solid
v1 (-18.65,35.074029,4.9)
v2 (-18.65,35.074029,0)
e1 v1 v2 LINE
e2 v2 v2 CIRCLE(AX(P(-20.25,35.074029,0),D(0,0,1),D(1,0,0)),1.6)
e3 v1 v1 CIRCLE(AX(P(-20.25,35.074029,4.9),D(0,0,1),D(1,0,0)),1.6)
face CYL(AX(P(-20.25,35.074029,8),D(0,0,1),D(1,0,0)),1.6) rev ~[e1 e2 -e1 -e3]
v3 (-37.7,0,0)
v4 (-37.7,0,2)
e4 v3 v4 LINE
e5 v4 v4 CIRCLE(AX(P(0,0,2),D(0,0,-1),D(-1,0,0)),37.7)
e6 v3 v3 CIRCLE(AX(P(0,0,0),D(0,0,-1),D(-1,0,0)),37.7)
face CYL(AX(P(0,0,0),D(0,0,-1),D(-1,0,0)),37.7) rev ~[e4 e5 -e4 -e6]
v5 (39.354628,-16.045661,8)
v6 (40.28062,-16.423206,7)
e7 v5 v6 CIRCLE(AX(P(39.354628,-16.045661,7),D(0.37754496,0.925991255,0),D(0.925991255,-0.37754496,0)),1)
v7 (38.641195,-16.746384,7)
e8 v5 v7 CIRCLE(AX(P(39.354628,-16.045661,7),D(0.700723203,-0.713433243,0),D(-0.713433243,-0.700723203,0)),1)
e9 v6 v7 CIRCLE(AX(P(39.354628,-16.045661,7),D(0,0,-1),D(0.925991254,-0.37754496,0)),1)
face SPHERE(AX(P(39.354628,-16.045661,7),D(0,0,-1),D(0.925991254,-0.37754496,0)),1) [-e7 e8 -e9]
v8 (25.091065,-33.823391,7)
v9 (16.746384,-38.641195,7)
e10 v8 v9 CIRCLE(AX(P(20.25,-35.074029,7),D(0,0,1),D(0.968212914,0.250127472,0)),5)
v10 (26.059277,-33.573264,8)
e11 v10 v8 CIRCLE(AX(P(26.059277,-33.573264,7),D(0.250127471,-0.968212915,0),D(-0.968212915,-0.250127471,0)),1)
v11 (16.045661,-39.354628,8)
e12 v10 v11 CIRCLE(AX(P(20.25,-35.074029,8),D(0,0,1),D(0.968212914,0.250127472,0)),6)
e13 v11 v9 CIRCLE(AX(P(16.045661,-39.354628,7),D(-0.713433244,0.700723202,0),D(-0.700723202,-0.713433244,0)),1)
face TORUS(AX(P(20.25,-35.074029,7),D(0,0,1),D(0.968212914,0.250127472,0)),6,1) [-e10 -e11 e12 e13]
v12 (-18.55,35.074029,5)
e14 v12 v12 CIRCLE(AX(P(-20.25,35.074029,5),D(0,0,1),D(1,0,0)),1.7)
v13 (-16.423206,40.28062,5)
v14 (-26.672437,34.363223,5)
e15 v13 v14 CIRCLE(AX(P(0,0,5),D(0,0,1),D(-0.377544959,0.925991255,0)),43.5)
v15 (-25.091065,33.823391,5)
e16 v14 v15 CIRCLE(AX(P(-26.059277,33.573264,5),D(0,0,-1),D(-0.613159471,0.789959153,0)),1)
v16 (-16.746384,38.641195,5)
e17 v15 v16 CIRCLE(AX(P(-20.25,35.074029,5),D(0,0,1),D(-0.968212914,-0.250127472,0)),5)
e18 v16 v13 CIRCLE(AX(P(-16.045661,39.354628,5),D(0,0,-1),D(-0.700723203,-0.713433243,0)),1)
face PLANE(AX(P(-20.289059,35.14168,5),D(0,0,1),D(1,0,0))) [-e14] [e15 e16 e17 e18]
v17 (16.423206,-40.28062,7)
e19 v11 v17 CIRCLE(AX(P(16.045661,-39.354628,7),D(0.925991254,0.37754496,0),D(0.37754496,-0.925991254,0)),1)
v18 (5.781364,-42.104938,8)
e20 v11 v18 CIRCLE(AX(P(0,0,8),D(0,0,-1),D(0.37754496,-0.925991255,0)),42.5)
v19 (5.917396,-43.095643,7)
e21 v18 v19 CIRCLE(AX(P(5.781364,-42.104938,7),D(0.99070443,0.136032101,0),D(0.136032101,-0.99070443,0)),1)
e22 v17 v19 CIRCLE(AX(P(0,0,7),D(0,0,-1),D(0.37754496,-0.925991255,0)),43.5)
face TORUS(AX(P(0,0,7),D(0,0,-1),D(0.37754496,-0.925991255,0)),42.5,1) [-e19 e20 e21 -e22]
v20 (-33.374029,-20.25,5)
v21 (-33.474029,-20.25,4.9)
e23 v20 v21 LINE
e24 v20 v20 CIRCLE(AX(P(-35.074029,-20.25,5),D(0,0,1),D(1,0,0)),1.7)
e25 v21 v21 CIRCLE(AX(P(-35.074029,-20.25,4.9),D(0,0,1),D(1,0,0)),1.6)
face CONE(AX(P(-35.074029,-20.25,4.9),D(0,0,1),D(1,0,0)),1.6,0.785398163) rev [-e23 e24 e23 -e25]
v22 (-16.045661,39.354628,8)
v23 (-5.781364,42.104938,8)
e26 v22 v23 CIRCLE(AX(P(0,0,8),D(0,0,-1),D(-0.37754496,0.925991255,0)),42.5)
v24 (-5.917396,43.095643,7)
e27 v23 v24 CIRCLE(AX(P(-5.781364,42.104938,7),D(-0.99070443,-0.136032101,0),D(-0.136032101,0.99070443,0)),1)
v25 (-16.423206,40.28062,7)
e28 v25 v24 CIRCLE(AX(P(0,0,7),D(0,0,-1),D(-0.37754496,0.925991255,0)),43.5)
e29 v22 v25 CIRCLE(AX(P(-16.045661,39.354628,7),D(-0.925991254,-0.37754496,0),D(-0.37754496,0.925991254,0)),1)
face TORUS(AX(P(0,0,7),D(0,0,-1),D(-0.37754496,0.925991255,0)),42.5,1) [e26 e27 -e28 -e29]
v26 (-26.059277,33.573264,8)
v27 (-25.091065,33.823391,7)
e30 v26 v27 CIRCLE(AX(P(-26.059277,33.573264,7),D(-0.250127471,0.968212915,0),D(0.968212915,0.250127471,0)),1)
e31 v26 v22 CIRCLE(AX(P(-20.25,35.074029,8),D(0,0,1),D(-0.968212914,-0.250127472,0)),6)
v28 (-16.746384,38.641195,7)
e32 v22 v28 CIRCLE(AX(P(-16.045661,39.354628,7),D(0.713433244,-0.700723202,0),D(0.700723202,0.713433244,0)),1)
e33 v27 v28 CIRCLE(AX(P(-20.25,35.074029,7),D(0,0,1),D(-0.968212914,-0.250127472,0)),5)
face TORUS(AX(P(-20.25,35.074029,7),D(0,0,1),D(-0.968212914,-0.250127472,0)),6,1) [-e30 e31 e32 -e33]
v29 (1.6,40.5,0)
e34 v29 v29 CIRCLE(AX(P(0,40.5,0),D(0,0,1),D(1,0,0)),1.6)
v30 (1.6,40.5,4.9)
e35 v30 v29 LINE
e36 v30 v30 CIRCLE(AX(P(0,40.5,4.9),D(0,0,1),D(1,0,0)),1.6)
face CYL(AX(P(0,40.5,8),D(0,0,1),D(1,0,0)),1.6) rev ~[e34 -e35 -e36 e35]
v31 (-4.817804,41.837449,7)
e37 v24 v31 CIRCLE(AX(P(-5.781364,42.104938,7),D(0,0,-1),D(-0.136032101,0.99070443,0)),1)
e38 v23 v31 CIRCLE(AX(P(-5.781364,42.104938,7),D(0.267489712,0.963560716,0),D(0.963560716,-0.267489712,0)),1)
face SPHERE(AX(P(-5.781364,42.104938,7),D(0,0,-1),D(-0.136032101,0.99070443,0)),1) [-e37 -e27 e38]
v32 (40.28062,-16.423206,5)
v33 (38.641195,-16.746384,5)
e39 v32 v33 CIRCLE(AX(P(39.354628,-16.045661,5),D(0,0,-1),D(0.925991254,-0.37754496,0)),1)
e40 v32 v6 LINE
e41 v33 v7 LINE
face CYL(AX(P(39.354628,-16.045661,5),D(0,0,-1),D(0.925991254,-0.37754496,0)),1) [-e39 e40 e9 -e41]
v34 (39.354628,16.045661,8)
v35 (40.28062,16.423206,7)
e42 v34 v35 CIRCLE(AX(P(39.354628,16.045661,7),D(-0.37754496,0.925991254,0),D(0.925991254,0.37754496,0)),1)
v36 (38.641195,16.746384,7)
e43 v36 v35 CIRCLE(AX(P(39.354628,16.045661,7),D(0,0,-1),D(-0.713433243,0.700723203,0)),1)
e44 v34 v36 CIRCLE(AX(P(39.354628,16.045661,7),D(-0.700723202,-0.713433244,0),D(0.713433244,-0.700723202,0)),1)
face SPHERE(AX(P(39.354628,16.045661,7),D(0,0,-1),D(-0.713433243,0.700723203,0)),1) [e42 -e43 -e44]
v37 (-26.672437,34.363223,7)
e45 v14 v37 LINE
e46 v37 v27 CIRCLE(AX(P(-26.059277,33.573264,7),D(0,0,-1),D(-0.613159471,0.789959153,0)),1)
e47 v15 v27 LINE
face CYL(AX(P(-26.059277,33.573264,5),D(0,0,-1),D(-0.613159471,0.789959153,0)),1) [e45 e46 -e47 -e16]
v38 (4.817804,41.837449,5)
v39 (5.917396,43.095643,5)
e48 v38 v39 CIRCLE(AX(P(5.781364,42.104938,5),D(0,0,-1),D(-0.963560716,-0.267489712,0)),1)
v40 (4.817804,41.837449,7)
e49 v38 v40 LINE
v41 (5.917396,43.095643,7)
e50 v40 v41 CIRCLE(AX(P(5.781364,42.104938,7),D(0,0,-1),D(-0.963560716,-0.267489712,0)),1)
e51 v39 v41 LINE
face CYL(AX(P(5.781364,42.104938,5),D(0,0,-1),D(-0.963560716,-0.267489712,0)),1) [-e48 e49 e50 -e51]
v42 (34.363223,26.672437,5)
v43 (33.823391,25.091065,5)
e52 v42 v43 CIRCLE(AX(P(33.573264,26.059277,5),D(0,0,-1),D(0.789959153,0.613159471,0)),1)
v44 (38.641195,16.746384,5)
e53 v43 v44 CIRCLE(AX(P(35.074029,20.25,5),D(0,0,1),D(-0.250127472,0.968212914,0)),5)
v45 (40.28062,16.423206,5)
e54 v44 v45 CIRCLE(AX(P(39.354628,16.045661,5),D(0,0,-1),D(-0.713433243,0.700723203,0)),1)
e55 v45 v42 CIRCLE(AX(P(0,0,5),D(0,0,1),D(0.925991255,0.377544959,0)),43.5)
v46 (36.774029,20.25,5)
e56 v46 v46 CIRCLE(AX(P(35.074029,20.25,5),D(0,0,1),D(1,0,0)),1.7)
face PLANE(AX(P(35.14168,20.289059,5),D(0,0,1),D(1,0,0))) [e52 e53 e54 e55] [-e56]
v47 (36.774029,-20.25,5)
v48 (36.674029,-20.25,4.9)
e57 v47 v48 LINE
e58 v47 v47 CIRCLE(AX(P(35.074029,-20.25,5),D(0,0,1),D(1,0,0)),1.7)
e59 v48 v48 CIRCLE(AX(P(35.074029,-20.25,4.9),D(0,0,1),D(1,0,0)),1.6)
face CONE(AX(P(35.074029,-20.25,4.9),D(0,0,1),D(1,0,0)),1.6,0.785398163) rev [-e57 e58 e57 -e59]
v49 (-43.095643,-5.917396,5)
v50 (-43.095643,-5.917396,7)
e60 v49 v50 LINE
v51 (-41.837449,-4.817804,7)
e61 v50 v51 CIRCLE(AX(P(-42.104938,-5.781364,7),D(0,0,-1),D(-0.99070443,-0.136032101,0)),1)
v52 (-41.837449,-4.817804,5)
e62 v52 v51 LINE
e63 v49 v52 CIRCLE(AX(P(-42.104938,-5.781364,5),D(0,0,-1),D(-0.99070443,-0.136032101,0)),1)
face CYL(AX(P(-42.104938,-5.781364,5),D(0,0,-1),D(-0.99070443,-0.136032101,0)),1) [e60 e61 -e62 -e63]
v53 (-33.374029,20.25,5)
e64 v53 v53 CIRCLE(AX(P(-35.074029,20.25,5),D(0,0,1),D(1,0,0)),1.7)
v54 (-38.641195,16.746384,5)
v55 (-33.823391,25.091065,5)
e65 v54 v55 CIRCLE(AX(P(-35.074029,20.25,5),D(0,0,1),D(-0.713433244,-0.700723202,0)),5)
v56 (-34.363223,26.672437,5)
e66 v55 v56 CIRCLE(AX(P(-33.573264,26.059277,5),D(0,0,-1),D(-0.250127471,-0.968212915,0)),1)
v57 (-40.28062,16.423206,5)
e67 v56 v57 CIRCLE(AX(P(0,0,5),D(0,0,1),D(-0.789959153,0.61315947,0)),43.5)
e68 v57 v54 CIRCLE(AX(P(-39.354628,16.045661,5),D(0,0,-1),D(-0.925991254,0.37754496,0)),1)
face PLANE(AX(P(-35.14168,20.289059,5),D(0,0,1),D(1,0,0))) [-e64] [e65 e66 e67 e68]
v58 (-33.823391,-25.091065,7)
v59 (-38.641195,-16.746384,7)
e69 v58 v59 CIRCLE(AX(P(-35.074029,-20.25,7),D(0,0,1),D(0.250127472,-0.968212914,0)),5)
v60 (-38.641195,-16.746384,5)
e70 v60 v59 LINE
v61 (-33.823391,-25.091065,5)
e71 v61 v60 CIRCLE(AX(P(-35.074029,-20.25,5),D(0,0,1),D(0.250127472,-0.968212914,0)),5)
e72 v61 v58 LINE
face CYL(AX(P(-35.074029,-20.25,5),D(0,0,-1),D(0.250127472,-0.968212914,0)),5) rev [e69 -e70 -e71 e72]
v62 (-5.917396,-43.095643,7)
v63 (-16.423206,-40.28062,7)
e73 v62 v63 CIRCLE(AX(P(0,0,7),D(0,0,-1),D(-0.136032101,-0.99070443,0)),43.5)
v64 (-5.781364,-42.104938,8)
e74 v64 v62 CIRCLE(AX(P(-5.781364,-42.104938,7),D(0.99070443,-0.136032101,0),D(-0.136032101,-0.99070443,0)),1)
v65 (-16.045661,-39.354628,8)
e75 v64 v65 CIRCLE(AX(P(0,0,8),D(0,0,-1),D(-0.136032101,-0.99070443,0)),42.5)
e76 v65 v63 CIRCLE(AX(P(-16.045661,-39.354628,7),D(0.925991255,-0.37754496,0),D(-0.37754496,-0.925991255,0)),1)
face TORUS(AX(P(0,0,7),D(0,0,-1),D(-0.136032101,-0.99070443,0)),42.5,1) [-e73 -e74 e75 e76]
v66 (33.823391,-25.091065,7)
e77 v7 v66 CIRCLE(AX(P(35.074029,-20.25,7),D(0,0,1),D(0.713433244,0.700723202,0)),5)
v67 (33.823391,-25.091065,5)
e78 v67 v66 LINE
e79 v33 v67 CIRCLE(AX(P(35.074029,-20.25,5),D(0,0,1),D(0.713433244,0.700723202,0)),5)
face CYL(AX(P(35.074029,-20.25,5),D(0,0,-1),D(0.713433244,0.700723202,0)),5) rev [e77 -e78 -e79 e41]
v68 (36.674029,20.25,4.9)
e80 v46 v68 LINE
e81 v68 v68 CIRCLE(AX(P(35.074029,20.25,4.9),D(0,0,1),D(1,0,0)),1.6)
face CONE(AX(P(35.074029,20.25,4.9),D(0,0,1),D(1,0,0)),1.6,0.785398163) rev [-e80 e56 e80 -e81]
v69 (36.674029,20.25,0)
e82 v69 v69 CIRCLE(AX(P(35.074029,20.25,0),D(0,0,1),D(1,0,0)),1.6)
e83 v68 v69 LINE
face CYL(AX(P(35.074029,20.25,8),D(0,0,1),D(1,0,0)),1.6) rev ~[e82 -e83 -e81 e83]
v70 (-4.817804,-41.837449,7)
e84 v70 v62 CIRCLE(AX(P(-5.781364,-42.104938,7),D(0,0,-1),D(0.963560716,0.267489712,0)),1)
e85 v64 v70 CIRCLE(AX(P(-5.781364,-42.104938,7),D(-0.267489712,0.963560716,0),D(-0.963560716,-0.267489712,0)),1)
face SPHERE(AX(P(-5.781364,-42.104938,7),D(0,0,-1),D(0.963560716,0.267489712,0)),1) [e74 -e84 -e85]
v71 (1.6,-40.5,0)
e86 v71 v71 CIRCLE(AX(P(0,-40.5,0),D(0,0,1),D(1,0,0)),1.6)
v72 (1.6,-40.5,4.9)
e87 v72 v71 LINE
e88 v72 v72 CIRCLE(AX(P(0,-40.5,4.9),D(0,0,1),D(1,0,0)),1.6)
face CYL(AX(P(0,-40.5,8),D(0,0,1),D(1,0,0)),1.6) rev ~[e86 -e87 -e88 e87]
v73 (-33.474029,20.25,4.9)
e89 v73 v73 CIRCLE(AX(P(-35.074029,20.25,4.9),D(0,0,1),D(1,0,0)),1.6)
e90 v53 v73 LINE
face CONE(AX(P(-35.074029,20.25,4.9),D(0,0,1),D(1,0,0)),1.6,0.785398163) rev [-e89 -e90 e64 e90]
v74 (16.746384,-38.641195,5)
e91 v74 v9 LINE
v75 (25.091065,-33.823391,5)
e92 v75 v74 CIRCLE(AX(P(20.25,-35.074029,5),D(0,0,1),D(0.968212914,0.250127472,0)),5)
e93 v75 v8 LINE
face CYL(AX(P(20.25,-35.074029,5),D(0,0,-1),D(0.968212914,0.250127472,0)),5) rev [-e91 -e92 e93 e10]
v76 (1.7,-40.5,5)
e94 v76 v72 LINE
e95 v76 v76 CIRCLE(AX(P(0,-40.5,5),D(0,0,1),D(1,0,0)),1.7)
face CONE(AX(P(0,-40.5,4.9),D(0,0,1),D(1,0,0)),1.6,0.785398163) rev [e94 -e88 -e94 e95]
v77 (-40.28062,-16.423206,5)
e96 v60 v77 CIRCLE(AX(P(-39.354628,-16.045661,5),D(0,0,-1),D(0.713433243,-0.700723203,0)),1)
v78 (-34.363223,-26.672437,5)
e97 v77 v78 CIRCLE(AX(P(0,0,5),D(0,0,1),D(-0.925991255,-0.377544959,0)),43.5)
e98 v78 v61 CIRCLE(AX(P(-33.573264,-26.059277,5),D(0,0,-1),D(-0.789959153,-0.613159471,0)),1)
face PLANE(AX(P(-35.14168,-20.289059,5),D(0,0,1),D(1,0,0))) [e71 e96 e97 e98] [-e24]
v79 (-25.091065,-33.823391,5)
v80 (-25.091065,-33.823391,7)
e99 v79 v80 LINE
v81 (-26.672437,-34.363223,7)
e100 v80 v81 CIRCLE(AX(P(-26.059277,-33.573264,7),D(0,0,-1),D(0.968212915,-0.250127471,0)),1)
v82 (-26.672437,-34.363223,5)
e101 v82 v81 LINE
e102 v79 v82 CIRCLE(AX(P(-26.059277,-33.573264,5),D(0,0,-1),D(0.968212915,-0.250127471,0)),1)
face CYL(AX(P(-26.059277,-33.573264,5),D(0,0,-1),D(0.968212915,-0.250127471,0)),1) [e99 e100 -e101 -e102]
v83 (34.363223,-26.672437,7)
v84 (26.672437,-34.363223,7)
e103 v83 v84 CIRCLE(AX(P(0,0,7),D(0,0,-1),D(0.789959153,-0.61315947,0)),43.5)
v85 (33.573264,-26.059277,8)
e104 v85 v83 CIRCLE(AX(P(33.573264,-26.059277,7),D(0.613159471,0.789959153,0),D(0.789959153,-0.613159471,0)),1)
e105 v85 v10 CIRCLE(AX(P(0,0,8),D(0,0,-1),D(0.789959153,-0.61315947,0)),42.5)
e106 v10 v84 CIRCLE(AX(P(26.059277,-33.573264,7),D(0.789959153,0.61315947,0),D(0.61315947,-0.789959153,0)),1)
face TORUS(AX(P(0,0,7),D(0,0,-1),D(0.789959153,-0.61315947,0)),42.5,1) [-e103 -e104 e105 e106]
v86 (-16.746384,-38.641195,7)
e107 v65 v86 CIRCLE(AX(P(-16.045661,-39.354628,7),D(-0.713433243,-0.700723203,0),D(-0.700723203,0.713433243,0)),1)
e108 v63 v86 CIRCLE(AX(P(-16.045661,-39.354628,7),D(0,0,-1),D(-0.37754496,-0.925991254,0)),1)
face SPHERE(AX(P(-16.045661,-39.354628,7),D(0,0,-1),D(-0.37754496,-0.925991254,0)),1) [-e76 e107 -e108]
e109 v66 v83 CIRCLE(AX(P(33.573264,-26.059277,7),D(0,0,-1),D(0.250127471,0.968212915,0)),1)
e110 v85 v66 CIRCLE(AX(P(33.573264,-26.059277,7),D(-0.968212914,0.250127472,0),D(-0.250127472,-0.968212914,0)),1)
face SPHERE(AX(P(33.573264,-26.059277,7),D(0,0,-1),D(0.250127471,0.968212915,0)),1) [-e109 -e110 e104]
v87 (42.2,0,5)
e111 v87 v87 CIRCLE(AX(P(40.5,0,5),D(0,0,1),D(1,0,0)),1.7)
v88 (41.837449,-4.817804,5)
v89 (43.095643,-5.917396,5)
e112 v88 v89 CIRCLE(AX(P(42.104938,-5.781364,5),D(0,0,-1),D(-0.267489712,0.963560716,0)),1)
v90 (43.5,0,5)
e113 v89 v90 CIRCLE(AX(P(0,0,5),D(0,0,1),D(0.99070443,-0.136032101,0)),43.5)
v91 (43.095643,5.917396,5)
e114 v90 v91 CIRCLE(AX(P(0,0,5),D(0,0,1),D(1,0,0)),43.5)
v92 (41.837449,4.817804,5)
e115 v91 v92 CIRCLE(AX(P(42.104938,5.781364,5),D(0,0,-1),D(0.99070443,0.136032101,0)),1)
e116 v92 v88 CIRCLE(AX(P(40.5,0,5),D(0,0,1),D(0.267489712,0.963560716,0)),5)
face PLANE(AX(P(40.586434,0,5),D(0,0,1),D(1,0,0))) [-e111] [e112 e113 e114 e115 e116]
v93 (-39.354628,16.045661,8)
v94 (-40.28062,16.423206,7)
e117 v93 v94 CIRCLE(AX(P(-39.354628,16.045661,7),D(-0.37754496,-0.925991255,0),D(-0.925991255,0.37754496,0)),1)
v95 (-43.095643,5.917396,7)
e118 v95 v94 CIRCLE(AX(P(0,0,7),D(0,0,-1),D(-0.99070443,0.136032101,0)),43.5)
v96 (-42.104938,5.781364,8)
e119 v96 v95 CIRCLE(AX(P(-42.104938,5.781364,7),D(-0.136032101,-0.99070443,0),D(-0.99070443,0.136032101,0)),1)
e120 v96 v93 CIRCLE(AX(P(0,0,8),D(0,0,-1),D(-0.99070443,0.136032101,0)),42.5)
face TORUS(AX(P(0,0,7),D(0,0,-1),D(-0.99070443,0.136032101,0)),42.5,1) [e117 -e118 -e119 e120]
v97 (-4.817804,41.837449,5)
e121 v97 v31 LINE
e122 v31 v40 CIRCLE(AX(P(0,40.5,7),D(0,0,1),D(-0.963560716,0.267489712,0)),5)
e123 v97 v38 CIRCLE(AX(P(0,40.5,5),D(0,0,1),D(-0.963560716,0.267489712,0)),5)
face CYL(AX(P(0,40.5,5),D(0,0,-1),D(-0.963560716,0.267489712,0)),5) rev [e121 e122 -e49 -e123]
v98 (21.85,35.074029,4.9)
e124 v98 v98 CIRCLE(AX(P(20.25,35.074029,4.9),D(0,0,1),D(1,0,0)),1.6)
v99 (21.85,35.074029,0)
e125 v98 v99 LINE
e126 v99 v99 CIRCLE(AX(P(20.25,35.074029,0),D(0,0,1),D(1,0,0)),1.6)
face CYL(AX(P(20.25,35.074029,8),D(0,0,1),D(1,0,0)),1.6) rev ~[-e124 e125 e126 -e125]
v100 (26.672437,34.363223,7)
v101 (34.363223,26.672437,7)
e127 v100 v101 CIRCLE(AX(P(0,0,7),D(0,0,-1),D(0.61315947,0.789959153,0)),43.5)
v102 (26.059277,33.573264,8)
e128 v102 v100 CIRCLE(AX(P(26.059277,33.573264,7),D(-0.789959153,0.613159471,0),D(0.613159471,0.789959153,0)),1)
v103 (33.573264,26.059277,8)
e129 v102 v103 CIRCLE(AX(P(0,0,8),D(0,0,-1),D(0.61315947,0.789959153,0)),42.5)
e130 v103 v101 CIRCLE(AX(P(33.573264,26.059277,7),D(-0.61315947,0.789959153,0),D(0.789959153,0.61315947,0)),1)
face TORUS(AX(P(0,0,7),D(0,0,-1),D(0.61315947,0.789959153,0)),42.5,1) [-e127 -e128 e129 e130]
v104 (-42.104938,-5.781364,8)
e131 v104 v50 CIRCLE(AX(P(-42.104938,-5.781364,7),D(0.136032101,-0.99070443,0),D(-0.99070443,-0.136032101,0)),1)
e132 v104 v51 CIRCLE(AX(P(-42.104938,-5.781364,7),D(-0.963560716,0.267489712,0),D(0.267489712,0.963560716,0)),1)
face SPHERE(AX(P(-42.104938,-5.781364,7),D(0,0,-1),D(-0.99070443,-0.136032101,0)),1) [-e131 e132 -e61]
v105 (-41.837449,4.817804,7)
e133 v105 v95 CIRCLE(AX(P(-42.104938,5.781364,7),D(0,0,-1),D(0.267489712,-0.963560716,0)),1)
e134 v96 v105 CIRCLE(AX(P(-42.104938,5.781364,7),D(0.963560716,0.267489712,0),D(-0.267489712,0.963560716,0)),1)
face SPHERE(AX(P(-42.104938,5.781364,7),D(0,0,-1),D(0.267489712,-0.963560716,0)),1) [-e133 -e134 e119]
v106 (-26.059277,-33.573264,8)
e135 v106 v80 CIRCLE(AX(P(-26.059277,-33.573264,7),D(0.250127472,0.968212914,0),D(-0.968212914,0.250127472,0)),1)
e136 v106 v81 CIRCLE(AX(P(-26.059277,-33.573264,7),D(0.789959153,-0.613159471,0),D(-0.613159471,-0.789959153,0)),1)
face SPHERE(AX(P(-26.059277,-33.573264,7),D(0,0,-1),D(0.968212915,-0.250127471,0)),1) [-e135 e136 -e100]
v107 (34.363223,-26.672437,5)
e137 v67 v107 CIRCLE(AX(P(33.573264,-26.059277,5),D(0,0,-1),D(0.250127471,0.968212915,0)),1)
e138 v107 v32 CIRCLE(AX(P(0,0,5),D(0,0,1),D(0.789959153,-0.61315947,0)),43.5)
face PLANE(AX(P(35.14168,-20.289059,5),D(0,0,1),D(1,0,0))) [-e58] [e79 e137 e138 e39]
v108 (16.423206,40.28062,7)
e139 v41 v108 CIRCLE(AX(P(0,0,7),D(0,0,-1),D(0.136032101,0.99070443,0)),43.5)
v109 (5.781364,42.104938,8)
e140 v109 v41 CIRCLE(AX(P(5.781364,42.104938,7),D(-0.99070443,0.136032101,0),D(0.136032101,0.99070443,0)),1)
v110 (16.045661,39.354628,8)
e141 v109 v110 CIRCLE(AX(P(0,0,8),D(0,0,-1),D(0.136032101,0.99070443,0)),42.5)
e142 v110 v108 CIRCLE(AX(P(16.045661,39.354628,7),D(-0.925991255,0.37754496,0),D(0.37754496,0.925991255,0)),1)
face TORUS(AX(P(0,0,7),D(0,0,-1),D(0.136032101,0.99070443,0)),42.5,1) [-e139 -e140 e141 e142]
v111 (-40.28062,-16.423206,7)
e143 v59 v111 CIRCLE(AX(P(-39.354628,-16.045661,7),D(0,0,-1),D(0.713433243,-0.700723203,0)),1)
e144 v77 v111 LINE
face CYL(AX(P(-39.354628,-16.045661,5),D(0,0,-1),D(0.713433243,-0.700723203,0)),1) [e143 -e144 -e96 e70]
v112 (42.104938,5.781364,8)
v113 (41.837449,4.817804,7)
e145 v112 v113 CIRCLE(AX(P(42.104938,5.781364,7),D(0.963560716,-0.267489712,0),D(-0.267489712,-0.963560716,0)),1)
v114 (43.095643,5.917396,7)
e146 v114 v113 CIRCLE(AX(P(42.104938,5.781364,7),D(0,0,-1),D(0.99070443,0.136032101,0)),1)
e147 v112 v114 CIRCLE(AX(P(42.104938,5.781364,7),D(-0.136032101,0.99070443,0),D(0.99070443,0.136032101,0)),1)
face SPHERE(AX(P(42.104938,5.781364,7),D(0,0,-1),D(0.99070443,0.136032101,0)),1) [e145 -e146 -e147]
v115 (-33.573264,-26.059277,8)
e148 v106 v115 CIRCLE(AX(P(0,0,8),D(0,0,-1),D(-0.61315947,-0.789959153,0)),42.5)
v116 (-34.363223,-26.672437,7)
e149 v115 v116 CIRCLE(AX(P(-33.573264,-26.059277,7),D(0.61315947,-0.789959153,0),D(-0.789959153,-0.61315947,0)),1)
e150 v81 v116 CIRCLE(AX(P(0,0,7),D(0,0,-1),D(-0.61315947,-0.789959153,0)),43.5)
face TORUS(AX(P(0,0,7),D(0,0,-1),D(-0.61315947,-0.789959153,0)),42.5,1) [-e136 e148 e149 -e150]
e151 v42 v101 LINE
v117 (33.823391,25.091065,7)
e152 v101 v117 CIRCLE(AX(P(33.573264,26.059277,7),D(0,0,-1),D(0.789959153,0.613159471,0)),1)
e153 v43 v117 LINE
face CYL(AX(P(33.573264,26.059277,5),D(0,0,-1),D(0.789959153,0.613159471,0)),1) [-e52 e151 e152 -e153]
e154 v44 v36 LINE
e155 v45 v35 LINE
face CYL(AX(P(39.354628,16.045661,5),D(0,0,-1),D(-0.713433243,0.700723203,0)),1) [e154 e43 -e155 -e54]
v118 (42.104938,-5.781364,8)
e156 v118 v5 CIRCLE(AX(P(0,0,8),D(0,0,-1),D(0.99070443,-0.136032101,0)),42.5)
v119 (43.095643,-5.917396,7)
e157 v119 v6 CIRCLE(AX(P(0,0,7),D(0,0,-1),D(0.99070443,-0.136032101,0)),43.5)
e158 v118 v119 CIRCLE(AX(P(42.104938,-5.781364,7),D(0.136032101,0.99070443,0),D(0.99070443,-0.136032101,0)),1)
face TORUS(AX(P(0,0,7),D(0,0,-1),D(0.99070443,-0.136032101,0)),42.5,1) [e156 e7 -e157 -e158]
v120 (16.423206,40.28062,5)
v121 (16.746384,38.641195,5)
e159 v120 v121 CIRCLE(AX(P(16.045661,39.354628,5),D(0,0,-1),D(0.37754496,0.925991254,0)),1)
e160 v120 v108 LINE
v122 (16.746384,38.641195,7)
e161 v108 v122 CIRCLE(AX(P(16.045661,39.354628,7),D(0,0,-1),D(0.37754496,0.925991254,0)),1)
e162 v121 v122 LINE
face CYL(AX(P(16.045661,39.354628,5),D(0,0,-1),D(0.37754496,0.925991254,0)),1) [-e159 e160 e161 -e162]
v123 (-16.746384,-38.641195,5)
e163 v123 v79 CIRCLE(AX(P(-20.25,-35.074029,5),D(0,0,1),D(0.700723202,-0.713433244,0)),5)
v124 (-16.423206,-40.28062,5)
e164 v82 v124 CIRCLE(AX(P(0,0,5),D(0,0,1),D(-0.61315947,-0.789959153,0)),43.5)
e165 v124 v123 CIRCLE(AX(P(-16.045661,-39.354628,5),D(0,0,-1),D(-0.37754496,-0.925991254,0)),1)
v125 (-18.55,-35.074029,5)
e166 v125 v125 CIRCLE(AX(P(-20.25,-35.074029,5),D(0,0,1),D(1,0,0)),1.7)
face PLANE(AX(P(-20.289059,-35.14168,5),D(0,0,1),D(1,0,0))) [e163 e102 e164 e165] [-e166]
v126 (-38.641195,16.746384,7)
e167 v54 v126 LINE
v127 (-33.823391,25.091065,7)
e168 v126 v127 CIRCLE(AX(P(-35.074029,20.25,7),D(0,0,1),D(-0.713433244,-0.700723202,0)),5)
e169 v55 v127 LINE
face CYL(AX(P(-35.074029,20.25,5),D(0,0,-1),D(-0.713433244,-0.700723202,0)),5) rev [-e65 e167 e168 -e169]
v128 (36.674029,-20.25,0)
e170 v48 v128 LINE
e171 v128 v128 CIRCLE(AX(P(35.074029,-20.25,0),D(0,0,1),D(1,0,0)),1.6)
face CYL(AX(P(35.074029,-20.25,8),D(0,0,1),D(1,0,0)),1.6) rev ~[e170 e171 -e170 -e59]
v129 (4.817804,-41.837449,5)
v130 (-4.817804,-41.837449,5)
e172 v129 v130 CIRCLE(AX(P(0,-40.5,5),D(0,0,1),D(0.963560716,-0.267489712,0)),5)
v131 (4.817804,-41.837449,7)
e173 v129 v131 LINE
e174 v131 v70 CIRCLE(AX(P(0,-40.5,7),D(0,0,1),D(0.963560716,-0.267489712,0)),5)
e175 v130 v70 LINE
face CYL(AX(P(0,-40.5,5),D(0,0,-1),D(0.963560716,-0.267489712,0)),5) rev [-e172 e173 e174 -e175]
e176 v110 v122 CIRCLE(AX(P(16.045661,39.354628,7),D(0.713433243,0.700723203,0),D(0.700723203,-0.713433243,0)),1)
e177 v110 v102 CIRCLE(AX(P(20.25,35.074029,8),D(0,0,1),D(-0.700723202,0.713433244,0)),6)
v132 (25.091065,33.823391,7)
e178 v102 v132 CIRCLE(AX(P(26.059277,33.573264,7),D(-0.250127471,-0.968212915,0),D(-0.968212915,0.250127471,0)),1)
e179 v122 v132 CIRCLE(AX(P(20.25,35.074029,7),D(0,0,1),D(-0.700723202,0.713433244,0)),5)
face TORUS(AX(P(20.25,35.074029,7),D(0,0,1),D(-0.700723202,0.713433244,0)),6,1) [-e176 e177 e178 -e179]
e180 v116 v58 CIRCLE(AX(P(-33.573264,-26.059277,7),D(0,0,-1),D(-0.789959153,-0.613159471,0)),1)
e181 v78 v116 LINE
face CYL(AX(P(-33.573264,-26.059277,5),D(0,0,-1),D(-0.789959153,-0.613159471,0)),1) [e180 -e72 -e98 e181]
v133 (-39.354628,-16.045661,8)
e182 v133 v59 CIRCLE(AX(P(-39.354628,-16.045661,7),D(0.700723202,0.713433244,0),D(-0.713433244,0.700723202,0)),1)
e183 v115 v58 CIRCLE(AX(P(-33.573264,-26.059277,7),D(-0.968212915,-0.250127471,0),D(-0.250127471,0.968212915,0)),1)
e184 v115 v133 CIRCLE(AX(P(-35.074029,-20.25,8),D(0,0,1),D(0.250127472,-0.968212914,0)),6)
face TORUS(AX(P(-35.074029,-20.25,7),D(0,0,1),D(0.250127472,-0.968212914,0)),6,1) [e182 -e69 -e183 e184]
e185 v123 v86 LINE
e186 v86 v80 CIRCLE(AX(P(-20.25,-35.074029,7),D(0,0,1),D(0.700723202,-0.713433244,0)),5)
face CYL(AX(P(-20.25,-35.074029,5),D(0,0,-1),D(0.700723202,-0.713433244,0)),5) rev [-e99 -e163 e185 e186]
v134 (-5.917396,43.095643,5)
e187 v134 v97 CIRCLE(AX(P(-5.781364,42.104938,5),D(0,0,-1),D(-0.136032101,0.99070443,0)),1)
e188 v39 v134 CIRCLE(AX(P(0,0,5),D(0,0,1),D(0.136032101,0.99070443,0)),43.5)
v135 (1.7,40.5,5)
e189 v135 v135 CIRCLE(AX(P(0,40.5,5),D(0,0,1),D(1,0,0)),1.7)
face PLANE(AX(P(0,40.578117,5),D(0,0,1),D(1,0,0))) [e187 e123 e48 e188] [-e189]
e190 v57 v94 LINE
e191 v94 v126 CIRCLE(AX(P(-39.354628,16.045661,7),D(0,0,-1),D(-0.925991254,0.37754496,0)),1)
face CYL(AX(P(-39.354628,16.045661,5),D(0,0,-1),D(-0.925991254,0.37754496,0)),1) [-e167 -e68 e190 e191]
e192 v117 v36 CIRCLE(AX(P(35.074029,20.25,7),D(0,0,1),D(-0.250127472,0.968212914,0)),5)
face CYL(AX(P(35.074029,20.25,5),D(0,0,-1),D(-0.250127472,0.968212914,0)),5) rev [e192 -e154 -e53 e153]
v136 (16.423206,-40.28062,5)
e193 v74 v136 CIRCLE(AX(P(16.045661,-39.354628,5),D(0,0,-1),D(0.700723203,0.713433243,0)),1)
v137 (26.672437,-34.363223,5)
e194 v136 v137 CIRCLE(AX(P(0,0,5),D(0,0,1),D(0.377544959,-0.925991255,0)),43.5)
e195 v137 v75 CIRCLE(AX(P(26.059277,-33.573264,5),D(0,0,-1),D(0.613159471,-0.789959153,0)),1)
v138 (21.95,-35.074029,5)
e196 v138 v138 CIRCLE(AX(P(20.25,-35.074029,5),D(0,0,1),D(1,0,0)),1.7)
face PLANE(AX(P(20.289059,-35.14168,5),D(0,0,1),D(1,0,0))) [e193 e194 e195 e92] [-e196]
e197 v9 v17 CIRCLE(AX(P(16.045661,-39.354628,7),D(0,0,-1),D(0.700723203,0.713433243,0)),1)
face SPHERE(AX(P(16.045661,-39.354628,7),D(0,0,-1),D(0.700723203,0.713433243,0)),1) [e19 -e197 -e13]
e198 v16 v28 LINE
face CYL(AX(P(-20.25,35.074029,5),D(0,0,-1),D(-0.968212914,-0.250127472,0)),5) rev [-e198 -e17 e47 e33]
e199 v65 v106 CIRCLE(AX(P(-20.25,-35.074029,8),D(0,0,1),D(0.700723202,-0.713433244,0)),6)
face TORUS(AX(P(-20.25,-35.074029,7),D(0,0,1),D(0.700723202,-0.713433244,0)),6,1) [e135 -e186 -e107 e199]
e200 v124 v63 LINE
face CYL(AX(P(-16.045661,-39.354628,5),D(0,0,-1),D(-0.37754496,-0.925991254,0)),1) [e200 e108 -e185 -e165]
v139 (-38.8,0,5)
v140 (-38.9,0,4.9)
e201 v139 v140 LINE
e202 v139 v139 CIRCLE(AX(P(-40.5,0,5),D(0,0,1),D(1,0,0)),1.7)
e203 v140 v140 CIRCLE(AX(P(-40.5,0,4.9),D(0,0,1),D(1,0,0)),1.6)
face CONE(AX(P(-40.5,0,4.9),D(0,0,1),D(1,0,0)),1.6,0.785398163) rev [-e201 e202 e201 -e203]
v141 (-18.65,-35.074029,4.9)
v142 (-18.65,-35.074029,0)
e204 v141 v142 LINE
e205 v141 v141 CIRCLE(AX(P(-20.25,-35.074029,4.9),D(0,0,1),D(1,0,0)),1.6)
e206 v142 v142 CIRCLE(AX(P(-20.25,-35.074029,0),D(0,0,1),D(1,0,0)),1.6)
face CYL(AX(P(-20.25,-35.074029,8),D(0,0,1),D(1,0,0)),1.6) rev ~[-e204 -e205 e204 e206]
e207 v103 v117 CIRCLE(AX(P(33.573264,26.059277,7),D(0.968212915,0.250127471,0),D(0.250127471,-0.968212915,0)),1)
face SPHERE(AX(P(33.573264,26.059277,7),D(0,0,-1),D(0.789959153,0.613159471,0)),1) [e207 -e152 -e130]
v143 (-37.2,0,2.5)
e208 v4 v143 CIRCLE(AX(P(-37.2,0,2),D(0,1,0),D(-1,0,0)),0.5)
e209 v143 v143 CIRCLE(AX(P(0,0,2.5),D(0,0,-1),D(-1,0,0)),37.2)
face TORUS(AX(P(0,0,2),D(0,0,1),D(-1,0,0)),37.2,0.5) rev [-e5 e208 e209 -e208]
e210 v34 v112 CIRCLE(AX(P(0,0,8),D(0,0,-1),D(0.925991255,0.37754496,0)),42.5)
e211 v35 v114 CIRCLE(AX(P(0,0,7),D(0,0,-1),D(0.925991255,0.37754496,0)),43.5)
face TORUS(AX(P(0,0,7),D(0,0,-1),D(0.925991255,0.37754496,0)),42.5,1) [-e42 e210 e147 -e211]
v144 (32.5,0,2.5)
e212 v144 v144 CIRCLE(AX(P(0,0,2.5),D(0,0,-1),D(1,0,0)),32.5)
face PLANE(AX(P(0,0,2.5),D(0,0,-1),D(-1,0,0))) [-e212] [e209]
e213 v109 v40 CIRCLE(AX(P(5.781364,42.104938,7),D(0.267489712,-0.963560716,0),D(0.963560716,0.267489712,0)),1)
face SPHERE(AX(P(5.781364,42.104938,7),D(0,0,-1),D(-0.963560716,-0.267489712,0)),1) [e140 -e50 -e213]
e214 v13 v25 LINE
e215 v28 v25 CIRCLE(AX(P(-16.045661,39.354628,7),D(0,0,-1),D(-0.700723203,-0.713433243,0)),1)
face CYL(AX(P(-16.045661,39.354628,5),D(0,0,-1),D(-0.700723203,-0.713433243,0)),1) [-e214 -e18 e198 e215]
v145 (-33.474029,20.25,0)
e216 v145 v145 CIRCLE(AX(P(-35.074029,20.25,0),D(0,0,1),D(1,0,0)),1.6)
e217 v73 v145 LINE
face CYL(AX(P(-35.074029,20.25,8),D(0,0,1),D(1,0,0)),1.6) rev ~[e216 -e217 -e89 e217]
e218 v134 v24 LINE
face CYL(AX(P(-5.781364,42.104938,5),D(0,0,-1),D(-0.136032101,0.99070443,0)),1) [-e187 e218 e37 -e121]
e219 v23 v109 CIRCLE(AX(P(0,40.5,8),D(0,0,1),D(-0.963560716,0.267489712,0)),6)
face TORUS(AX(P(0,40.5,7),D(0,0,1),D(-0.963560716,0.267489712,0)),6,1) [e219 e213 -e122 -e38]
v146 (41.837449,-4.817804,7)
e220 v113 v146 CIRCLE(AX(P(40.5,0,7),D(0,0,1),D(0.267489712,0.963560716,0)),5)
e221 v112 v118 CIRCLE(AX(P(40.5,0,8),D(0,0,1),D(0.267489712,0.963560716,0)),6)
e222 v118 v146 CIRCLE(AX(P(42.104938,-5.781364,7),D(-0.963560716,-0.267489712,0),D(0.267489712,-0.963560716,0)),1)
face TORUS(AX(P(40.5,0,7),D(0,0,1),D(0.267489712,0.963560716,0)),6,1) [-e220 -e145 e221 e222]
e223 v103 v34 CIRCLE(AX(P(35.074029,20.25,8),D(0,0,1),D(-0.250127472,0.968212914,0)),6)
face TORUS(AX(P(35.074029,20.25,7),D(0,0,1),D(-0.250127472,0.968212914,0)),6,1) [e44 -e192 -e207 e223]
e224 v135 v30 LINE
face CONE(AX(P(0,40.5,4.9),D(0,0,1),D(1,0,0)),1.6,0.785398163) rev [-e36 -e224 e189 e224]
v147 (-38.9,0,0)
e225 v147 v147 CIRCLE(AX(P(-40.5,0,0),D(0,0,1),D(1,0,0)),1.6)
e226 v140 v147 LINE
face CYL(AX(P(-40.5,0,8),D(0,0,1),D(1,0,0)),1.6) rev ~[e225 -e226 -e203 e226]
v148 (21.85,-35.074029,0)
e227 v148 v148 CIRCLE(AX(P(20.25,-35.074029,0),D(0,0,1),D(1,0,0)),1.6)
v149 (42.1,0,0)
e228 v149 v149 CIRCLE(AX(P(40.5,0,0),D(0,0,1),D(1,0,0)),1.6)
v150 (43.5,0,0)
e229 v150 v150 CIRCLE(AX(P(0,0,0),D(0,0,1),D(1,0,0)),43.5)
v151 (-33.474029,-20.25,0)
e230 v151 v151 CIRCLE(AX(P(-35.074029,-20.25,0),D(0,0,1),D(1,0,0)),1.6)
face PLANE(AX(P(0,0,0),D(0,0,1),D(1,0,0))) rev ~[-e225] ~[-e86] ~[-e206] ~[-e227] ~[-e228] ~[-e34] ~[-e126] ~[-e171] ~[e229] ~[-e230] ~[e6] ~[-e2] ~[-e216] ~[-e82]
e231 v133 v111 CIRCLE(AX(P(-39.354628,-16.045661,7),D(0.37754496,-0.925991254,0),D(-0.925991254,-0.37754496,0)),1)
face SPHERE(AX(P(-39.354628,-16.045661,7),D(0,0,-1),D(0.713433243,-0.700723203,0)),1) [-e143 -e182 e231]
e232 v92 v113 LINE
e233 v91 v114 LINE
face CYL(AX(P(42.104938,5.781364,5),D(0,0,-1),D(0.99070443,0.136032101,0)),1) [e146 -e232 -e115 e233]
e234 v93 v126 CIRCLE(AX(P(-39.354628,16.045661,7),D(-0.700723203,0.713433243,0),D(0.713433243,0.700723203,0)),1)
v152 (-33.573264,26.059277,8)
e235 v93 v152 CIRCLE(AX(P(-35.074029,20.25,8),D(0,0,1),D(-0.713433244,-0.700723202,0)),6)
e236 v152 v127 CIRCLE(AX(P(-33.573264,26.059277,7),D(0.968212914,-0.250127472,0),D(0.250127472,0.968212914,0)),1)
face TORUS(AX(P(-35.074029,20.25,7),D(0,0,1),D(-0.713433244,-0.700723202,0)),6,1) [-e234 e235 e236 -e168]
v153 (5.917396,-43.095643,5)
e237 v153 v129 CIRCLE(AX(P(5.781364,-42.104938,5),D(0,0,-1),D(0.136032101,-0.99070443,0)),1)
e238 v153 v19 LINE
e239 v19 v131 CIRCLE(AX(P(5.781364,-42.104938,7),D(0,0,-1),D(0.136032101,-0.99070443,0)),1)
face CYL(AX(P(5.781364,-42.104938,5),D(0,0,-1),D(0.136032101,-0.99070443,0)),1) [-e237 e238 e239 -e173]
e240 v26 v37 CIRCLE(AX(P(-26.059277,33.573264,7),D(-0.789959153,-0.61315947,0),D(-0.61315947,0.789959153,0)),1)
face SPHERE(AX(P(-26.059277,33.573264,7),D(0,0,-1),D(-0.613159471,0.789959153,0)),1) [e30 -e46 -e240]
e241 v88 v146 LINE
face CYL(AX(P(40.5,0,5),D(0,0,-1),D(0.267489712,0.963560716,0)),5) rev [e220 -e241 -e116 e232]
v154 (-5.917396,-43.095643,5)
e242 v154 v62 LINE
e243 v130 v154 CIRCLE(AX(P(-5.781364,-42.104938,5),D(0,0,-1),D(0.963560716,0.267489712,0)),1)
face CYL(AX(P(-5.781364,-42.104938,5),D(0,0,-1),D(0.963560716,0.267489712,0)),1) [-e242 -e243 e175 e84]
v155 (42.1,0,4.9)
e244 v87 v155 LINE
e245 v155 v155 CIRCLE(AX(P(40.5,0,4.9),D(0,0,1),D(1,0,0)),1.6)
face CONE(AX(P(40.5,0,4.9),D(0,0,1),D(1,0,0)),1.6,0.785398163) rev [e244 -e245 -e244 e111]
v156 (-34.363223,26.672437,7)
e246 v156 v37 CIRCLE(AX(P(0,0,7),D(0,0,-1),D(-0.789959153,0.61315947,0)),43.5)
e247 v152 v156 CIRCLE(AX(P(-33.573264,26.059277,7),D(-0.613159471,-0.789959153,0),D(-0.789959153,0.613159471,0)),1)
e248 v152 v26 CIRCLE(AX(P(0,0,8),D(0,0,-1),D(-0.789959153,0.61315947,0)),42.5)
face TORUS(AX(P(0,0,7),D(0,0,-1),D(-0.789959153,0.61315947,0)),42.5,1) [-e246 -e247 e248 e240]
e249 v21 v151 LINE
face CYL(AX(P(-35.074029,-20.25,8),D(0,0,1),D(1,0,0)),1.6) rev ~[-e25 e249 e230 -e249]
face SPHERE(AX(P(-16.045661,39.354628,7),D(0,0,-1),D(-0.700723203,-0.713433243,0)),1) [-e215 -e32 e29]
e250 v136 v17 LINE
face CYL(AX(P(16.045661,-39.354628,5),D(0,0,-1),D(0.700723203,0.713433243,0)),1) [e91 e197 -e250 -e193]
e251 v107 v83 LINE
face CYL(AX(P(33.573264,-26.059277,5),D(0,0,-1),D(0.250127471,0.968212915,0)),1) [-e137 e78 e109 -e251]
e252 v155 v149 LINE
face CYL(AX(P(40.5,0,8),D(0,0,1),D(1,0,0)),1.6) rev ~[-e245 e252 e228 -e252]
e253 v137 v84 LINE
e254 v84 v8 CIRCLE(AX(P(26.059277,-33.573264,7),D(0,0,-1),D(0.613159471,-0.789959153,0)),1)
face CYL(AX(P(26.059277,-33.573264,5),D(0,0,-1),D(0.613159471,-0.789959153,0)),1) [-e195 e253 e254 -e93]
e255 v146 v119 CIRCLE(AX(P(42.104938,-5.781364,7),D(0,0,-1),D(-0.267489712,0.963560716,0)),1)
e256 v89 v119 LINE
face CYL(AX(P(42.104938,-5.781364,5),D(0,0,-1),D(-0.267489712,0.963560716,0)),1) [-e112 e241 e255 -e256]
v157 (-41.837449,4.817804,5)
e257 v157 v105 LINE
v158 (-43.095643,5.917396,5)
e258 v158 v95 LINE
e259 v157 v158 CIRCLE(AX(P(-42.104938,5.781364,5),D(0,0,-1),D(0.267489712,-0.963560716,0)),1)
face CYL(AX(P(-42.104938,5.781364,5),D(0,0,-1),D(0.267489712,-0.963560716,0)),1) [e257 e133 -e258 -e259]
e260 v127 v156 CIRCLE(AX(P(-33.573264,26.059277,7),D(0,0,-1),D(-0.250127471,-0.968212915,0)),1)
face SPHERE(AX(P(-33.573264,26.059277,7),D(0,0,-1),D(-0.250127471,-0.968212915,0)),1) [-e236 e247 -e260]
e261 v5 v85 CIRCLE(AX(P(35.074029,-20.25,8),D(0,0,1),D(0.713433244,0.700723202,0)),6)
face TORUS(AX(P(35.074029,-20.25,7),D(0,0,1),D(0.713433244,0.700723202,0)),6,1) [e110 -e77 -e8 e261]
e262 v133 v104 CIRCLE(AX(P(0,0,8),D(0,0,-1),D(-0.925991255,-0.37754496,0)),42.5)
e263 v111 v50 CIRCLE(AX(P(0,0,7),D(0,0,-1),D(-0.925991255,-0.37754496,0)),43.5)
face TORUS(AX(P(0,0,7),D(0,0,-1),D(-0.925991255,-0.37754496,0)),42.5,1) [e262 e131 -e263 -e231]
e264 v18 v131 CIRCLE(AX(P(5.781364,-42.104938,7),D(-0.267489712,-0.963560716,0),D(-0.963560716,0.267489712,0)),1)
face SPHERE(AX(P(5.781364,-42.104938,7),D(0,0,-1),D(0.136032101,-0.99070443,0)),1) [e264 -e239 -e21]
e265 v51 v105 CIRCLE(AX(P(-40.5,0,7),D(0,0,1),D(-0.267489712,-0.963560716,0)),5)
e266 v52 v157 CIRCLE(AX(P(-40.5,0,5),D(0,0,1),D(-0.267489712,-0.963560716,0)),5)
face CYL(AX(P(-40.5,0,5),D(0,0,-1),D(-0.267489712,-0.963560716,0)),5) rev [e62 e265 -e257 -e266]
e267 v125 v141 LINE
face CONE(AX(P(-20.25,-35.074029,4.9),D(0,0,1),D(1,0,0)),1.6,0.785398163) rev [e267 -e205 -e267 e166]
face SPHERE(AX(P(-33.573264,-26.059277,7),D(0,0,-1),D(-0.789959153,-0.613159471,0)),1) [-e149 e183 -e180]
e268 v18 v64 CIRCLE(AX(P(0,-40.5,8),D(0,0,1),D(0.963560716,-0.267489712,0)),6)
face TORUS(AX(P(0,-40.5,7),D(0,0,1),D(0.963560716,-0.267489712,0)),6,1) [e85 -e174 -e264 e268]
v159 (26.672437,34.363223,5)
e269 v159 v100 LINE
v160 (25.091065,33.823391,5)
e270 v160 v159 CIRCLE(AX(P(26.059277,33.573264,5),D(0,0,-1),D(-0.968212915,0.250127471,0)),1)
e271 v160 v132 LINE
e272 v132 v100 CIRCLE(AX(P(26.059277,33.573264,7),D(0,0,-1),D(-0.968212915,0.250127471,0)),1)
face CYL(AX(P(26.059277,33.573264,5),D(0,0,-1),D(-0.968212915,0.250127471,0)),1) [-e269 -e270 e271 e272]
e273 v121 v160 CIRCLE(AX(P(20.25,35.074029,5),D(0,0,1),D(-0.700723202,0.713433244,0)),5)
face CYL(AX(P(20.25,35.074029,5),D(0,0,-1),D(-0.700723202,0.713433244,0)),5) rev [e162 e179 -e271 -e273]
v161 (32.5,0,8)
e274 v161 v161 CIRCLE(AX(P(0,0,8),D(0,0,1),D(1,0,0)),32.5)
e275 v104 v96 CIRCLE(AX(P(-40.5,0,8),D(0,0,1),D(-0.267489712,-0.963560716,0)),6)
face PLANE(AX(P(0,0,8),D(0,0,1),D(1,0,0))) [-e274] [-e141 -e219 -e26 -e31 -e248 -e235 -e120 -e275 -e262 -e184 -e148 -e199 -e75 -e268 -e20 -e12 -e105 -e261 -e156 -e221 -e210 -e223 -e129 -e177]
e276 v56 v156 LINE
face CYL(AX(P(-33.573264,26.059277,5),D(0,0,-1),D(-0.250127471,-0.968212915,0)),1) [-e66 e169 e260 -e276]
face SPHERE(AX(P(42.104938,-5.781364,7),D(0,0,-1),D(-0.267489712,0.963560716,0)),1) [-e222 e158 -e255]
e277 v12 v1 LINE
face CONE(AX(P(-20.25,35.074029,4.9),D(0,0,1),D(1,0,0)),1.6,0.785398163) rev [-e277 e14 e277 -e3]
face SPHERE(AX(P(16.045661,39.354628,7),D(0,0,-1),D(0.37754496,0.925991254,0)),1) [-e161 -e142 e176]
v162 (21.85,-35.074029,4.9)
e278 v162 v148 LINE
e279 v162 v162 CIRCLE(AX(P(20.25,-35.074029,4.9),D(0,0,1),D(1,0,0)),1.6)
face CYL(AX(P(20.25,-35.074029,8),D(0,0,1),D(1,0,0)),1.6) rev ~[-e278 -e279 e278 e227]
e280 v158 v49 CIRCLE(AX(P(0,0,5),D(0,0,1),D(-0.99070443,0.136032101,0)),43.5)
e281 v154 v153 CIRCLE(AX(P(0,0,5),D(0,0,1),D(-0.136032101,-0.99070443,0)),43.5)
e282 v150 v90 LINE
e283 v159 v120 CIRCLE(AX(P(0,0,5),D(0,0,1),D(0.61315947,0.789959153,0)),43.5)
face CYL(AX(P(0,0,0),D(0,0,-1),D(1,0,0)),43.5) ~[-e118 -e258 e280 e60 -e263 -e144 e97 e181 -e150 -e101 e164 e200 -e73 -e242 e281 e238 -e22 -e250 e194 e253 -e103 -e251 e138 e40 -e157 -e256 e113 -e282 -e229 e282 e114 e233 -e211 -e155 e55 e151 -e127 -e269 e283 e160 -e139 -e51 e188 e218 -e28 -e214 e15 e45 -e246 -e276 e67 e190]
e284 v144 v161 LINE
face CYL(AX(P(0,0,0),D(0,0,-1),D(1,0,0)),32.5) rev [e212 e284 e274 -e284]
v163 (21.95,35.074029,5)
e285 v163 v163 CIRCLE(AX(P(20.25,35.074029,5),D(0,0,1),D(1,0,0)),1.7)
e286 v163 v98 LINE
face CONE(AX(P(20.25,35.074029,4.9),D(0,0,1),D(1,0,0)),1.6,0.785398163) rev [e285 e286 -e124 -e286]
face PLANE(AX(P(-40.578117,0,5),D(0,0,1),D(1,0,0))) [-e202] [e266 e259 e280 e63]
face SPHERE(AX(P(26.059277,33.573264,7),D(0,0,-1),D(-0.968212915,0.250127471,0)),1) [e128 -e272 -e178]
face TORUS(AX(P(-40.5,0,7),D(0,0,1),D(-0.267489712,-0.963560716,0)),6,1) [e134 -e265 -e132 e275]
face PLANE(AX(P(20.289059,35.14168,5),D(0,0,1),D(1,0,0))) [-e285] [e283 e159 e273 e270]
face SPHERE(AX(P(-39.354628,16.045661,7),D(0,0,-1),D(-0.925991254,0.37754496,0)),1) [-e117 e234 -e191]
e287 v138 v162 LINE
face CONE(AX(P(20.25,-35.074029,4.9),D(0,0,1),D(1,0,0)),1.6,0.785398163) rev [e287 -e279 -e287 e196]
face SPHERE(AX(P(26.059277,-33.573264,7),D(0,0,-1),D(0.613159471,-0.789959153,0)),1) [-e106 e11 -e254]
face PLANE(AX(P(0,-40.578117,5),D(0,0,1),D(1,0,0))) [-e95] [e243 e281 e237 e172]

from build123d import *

# Parameters (mm, degrees)
SKETCH1_R           = 43.5
SKETCH1_R_2         = 32.5
BOSS_EXTRUDE1_DEPTH = 8
SKETCH2_R           = 37.7
CUT_EXTRUDE1_DEPTH  = 2.5
SKETCH4_R           = 1.6
CUT_EXTRUDE3_DEPTH  = 63.036279708
SKETCH5_R           = 1.6
CUT_EXTRUDE4_DEPTH  = 3
FILLET1_R           = 1
CHAMFER1_SIZE       = 0.1
FILLET2_R           = 0.5


with BuildPart() as part:
    # Sketch1 → Boss-Extrude1 (new body)
    with BuildSketch(Plane.XY):
        Circle(SKETCH1_R)
        Circle(SKETCH1_R_2, mode=Mode.SUBTRACT)
    extrude(amount=BOSS_EXTRUDE1_DEPTH)

    # Sketch2 → Cut-Extrude1 (cut)
    with BuildSketch(Plane(origin=(0, 0, 0), x_dir=(-1, 0, 0), z_dir=(0, 0, -1))):
        Circle(SKETCH2_R)
    extrude(amount=-CUT_EXTRUDE1_DEPTH, mode=Mode.SUBTRACT)

    # Sketch4 → Cut-Extrude3 (cut, through all)
    with BuildSketch(Plane.XY.offset(8)):
        with Locations((-40.5, 0)):
            Circle(SKETCH4_R)
        with Locations((-35.074028853, 20.25)):
            Circle(SKETCH4_R)
        with Locations((-20.25, 35.074028853)):
            Circle(SKETCH4_R)
        with Locations((0, 40.5)):
            Circle(SKETCH4_R)
        with Locations((20.25, 35.074028853)):
            Circle(SKETCH4_R)
        with Locations((35.074028853, 20.25)):
            Circle(SKETCH4_R)
        with Locations((40.5, 0)):
            Circle(SKETCH4_R)
        with Locations((35.074028853, -20.25)):
            Circle(SKETCH4_R)
        with Locations((20.25, -35.074028853)):
            Circle(SKETCH4_R)
        with Locations((0, -40.5)):
            Circle(SKETCH4_R)
        with Locations((-20.25, -35.074028853)):
            Circle(SKETCH4_R)
        with Locations((-35.074028853, -20.25)):
            Circle(SKETCH4_R)
    extrude(amount=-CUT_EXTRUDE3_DEPTH, mode=Mode.SUBTRACT)

    # Sketch5 → Cut-Extrude4 (cut)
    # profile 1 of 12: a face of its own
    with BuildSketch(Plane.XY.offset(8)):
        with BuildLine():
            ThreePointArc((-5.917396399, 43.095642702), (-5.028394161, 42.76299296), (-4.817803582, 41.83744856))
            ThreePointArc((-4.817803582, 41.83744856), (0, 35.5), (4.817803582, 41.83744856))
            ThreePointArc((4.817803582, 41.83744856), (5.028394161, 42.76299296), (5.917396399, 43.095642702))
            ThreePointArc((5.917396399, 43.095642702), (0, 43.5), (-5.917396399, 43.095642702))
        make_face()
        with Locations((0, 40.5)):
            Circle(SKETCH5_R, mode=Mode.SUBTRACT)
    # profile 2 of 12: a face of its own
    with BuildSketch(Plane.XY.offset(8)):
        with BuildLine():
            ThreePointArc((-16.746383988, 38.641195073), (-17.026779396, 39.548035326), (-16.423205745, 40.280619571))
            ThreePointArc((-16.423205745, 40.280619571), (-21.75, 37.672105065), (-26.672436957, 34.363223172))
            ThreePointArc((-26.672436957, 34.363223172), (-25.736213564, 34.519641165), (-25.091064572, 33.823391491))
            ThreePointArc((-25.091064572, 33.823391491), (-17.75, 30.743901834), (-16.746383988, 38.641195073))
        make_face()
        with Locations((-20.25, 35.074028853)):
            Circle(SKETCH5_R, mode=Mode.SUBTRACT)
    # profile 3 of 12: a face of its own
    with BuildSketch(Plane.XY.offset(8)):
        with BuildLine():
            ThreePointArc((26.672436957, 34.363223172), (21.75, 37.672105065), (16.423205745, 40.280619571))
            ThreePointArc((16.423205745, 40.280619571), (17.026779396, 39.548035326), (16.746383988, 38.641195073))
            ThreePointArc((16.746383988, 38.641195073), (17.75, 30.743901834), (25.091064572, 33.823391491))
            ThreePointArc((25.091064572, 33.823391491), (25.736213564, 34.519641165), (26.672436957, 34.363223172))
        make_face()
        with Locations((20.25, 35.074028853)):
            Circle(SKETCH5_R, mode=Mode.SUBTRACT)
    # profile 4 of 12: a face of its own
    with BuildSketch(Plane.XY.offset(8)):
        with BuildLine():
            ThreePointArc((-33.823391491, 25.091064572), (-34.519641165, 25.736213564), (-34.363223172, 26.672436957))
            ThreePointArc((-34.363223172, 26.672436957), (-37.672105065, 21.75), (-40.280619571, 16.423205745))
            ThreePointArc((-40.280619571, 16.423205745), (-39.548035326, 17.026779396), (-38.641195073, 16.746383988))
            ThreePointArc((-38.641195073, 16.746383988), (-30.743901834, 17.75), (-33.823391491, 25.091064572))
        make_face()
        with Locations((-35.074028853, 20.25)):
            Circle(SKETCH5_R, mode=Mode.SUBTRACT)
    # profile 5 of 12: a face of its own
    with BuildSketch(Plane.XY.offset(8)):
        with BuildLine():
            ThreePointArc((40.280619571, 16.423205745), (37.672105065, 21.75), (34.363223172, 26.672436957))
            ThreePointArc((34.363223172, 26.672436957), (34.519641165, 25.736213564), (33.823391491, 25.091064572))
            ThreePointArc((33.823391491, 25.091064572), (30.743901834, 17.75), (38.641195073, 16.746383988))
            ThreePointArc((38.641195073, 16.746383988), (39.548035326, 17.026779396), (40.280619571, 16.423205745))
        make_face()
        with Locations((35.074028853, 20.25)):
            Circle(SKETCH5_R, mode=Mode.SUBTRACT)
    # profile 6 of 12: a face of its own
    with BuildSketch(Plane.XY.offset(8)):
        with BuildLine():
            ThreePointArc((-41.83744856, 4.817803582), (-42.76299296, 5.028394161), (-43.095642702, 5.917396399))
            ThreePointArc((-43.095642702, 5.917396399), (-43.5, 0), (-43.095642702, -5.917396399))
            ThreePointArc((-43.095642702, -5.917396399), (-42.76299296, -5.028394161), (-41.83744856, -4.817803582))
            ThreePointArc((-41.83744856, -4.817803582), (-35.5, 0), (-41.83744856, 4.817803582))
        make_face()
        with Locations((-40.5, 0)):
            Circle(SKETCH5_R, mode=Mode.SUBTRACT)
    # profile 7 of 12: a face of its own
    with BuildSketch(Plane.XY.offset(8)):
        with BuildLine():
            ThreePointArc((43.095642702, -5.917396399), (43.5, 0), (43.095642702, 5.917396399))
            ThreePointArc((43.095642702, 5.917396399), (42.76299296, 5.028394161), (41.83744856, 4.817803582))
            ThreePointArc((41.83744856, 4.817803582), (35.5, 0), (41.83744856, -4.817803582))
            ThreePointArc((41.83744856, -4.817803582), (42.76299296, -5.028394161), (43.095642702, -5.917396399))
        make_face()
        with Locations((40.5, 0)):
            Circle(SKETCH5_R, mode=Mode.SUBTRACT)
    # profile 8 of 12: a face of its own
    with BuildSketch(Plane.XY.offset(8)):
        with BuildLine():
            ThreePointArc((-38.641195073, -16.746383988), (-39.548035326, -17.026779396), (-40.280619571, -16.423205745))
            ThreePointArc((-40.280619571, -16.423205745), (-37.672105065, -21.75), (-34.363223172, -26.672436957))
            ThreePointArc((-34.363223172, -26.672436957), (-34.519641165, -25.736213564), (-33.823391491, -25.091064572))
            ThreePointArc((-33.823391491, -25.091064572), (-30.743901834, -17.75), (-38.641195073, -16.746383988))
        make_face()
        with Locations((-35.074028853, -20.25)):
            Circle(SKETCH5_R, mode=Mode.SUBTRACT)
    # profile 9 of 12: a face of its own
    with BuildSketch(Plane.XY.offset(8)):
        with BuildLine():
            ThreePointArc((34.363223172, -26.672436957), (37.672105065, -21.75), (40.280619571, -16.423205745))
            ThreePointArc((40.280619571, -16.423205745), (39.548035326, -17.026779396), (38.641195073, -16.746383988))
            ThreePointArc((38.641195073, -16.746383988), (30.743901834, -17.75), (33.823391491, -25.091064572))
            ThreePointArc((33.823391491, -25.091064572), (34.519641165, -25.736213564), (34.363223172, -26.672436957))
        make_face()
        with Locations((35.074028853, -20.25)):
            Circle(SKETCH5_R, mode=Mode.SUBTRACT)
    # profile 10 of 12: a face of its own
    with BuildSketch(Plane.XY.offset(8)):
        with BuildLine():
            ThreePointArc((-25.091064572, -33.823391491), (-25.736213564, -34.519641165), (-26.672436957, -34.363223172))
            ThreePointArc((-26.672436957, -34.363223172), (-21.75, -37.672105065), (-16.423205745, -40.280619571))
            ThreePointArc((-16.423205745, -40.280619571), (-17.026779396, -39.548035326), (-16.746383988, -38.641195073))
            ThreePointArc((-16.746383988, -38.641195073), (-17.75, -30.743901834), (-25.091064572, -33.823391491))
        make_face()
        with Locations((-20.25, -35.074028853)):
            Circle(SKETCH5_R, mode=Mode.SUBTRACT)
    # profile 11 of 12: a face of its own
    with BuildSketch(Plane.XY.offset(8)):
        with BuildLine():
            ThreePointArc((16.423205745, -40.280619571), (21.75, -37.672105065), (26.672436957, -34.363223172))
            ThreePointArc((26.672436957, -34.363223172), (25.736213564, -34.519641165), (25.091064572, -33.823391491))
            ThreePointArc((25.091064572, -33.823391491), (17.75, -30.743901834), (16.746383988, -38.641195073))
            ThreePointArc((16.746383988, -38.641195073), (17.026779396, -39.548035326), (16.423205745, -40.280619571))
        make_face()
        with Locations((20.25, -35.074028853)):
            Circle(SKETCH5_R, mode=Mode.SUBTRACT)
    # profile 12 of 12: a face of its own
    with BuildSketch(Plane.XY.offset(8)):
        with BuildLine():
            ThreePointArc((-4.817803582, -41.83744856), (-5.028394161, -42.76299296), (-5.917396399, -43.095642702))
            ThreePointArc((-5.917396399, -43.095642702), (0, -43.5), (5.917396399, -43.095642702))
            ThreePointArc((5.917396399, -43.095642702), (5.028394161, -42.76299296), (4.817803582, -41.83744856))
            ThreePointArc((4.817803582, -41.83744856), (0, -35.5), (-4.817803582, -41.83744856))
        make_face()
        with Locations((0, -40.5)):
            Circle(SKETCH5_R, mode=Mode.SUBTRACT)
    extrude(amount=-CUT_EXTRUDE4_DEPTH, mode=Mode.SUBTRACT)

    # Fillet1
    fillet1_edges = [part.edges().sort_by_distance(p)[0] for p in [
        (17.026779396, 39.548035326, 8),
        (11.258628462, 42.017773444, 8),
        (5.028394161, 42.76299296, 8),
        (0, 35.5, 8),
        (-5.028394161, 42.76299296, 8),
        (-11.258628462, 42.017773444, 8),
        (-17.026779396, 39.548035326, 8),
        (-17.75, 30.743901834, 8),
        (-25.736213564, 34.519641165, 8),
        (-30.759144982, 30.759144982, 8),
        (-34.519641165, 25.736213564, 8),
        (-30.743901834, 17.75, 8),
        (-39.548035326, 17.026779396, 8),
        (-42.017773444, 11.258628462, 8),
        (-42.76299296, 5.028394161, 8),
        (-35.5, 0, 8),
        (-42.76299296, -5.028394161, 8),
        (-42.017773444, -11.258628462, 8),
        (-39.548035326, -17.026779396, 8),
        (-30.743901834, -17.75, 8),
        (-34.519641165, -25.736213564, 8),
        (-30.759144982, -30.759144982, 8),
        (-25.736213564, -34.519641165, 8),
        (-17.75, -30.743901834, 8),
        (-17.026779396, -39.548035326, 8),
        (-11.258628462, -42.017773444, 8),
        (-5.028394161, -42.76299296, 8),
        (0, -35.5, 8),
        (5.028394161, -42.76299296, 8),
        (11.258628462, -42.017773444, 8),
        (17.026779396, -39.548035326, 8),
        (17.75, -30.743901834, 8),
        (25.736213564, -34.519641165, 8),
        (30.759144982, -30.759144982, 8),
        (34.519641165, -25.736213564, 8),
        (30.743901834, -17.75, 8),
        (39.548035326, -17.026779396, 8),
        (42.017773444, -11.258628462, 8),
        (42.76299296, -5.028394161, 8),
        (35.5, 0, 8),
        (42.76299296, 5.028394161, 8),
        (42.017773444, 11.258628462, 8),
        (39.548035326, 17.026779396, 8),
        (30.743901834, 17.75, 8),
        (34.519641165, 25.736213564, 8),
        (30.759144982, 30.759144982, 8),
        (25.736213564, 34.519641165, 8),
        (17.75, 30.743901834, 8),
    ]]
    fillet(fillet1_edges, radius=FILLET1_R)

    # Chamfer1
    chamfer1_edges = [part.edges().sort_by_distance(p)[0] for p in [
        (-36.674028853, 20.25, 5),
        (-21.85, 35.074028853, 5),
        (-1.6, 40.5, 5),
        (18.65, 35.074028853, 5),
        (33.474028853, 20.25, 5),
        (38.9, 0, 5),
        (33.474028853, -20.25, 5),
        (18.65, -35.074028853, 5),
        (-1.6, -40.5, 5),
        (-21.85, -35.074028853, 5),
        (-36.674028853, -20.25, 5),
        (-42.1, 0, 5),
    ]]
    chamfer(chamfer1_edges, length=CHAMFER1_SIZE)

    # Fillet2
    fillet2_edges = [part.edges().sort_by_distance(p)[0] for p in [
        (37.7, 0, 2.5),
    ]]
    fillet(fillet2_edges, radius=FILLET2_R)


solid = part.part
